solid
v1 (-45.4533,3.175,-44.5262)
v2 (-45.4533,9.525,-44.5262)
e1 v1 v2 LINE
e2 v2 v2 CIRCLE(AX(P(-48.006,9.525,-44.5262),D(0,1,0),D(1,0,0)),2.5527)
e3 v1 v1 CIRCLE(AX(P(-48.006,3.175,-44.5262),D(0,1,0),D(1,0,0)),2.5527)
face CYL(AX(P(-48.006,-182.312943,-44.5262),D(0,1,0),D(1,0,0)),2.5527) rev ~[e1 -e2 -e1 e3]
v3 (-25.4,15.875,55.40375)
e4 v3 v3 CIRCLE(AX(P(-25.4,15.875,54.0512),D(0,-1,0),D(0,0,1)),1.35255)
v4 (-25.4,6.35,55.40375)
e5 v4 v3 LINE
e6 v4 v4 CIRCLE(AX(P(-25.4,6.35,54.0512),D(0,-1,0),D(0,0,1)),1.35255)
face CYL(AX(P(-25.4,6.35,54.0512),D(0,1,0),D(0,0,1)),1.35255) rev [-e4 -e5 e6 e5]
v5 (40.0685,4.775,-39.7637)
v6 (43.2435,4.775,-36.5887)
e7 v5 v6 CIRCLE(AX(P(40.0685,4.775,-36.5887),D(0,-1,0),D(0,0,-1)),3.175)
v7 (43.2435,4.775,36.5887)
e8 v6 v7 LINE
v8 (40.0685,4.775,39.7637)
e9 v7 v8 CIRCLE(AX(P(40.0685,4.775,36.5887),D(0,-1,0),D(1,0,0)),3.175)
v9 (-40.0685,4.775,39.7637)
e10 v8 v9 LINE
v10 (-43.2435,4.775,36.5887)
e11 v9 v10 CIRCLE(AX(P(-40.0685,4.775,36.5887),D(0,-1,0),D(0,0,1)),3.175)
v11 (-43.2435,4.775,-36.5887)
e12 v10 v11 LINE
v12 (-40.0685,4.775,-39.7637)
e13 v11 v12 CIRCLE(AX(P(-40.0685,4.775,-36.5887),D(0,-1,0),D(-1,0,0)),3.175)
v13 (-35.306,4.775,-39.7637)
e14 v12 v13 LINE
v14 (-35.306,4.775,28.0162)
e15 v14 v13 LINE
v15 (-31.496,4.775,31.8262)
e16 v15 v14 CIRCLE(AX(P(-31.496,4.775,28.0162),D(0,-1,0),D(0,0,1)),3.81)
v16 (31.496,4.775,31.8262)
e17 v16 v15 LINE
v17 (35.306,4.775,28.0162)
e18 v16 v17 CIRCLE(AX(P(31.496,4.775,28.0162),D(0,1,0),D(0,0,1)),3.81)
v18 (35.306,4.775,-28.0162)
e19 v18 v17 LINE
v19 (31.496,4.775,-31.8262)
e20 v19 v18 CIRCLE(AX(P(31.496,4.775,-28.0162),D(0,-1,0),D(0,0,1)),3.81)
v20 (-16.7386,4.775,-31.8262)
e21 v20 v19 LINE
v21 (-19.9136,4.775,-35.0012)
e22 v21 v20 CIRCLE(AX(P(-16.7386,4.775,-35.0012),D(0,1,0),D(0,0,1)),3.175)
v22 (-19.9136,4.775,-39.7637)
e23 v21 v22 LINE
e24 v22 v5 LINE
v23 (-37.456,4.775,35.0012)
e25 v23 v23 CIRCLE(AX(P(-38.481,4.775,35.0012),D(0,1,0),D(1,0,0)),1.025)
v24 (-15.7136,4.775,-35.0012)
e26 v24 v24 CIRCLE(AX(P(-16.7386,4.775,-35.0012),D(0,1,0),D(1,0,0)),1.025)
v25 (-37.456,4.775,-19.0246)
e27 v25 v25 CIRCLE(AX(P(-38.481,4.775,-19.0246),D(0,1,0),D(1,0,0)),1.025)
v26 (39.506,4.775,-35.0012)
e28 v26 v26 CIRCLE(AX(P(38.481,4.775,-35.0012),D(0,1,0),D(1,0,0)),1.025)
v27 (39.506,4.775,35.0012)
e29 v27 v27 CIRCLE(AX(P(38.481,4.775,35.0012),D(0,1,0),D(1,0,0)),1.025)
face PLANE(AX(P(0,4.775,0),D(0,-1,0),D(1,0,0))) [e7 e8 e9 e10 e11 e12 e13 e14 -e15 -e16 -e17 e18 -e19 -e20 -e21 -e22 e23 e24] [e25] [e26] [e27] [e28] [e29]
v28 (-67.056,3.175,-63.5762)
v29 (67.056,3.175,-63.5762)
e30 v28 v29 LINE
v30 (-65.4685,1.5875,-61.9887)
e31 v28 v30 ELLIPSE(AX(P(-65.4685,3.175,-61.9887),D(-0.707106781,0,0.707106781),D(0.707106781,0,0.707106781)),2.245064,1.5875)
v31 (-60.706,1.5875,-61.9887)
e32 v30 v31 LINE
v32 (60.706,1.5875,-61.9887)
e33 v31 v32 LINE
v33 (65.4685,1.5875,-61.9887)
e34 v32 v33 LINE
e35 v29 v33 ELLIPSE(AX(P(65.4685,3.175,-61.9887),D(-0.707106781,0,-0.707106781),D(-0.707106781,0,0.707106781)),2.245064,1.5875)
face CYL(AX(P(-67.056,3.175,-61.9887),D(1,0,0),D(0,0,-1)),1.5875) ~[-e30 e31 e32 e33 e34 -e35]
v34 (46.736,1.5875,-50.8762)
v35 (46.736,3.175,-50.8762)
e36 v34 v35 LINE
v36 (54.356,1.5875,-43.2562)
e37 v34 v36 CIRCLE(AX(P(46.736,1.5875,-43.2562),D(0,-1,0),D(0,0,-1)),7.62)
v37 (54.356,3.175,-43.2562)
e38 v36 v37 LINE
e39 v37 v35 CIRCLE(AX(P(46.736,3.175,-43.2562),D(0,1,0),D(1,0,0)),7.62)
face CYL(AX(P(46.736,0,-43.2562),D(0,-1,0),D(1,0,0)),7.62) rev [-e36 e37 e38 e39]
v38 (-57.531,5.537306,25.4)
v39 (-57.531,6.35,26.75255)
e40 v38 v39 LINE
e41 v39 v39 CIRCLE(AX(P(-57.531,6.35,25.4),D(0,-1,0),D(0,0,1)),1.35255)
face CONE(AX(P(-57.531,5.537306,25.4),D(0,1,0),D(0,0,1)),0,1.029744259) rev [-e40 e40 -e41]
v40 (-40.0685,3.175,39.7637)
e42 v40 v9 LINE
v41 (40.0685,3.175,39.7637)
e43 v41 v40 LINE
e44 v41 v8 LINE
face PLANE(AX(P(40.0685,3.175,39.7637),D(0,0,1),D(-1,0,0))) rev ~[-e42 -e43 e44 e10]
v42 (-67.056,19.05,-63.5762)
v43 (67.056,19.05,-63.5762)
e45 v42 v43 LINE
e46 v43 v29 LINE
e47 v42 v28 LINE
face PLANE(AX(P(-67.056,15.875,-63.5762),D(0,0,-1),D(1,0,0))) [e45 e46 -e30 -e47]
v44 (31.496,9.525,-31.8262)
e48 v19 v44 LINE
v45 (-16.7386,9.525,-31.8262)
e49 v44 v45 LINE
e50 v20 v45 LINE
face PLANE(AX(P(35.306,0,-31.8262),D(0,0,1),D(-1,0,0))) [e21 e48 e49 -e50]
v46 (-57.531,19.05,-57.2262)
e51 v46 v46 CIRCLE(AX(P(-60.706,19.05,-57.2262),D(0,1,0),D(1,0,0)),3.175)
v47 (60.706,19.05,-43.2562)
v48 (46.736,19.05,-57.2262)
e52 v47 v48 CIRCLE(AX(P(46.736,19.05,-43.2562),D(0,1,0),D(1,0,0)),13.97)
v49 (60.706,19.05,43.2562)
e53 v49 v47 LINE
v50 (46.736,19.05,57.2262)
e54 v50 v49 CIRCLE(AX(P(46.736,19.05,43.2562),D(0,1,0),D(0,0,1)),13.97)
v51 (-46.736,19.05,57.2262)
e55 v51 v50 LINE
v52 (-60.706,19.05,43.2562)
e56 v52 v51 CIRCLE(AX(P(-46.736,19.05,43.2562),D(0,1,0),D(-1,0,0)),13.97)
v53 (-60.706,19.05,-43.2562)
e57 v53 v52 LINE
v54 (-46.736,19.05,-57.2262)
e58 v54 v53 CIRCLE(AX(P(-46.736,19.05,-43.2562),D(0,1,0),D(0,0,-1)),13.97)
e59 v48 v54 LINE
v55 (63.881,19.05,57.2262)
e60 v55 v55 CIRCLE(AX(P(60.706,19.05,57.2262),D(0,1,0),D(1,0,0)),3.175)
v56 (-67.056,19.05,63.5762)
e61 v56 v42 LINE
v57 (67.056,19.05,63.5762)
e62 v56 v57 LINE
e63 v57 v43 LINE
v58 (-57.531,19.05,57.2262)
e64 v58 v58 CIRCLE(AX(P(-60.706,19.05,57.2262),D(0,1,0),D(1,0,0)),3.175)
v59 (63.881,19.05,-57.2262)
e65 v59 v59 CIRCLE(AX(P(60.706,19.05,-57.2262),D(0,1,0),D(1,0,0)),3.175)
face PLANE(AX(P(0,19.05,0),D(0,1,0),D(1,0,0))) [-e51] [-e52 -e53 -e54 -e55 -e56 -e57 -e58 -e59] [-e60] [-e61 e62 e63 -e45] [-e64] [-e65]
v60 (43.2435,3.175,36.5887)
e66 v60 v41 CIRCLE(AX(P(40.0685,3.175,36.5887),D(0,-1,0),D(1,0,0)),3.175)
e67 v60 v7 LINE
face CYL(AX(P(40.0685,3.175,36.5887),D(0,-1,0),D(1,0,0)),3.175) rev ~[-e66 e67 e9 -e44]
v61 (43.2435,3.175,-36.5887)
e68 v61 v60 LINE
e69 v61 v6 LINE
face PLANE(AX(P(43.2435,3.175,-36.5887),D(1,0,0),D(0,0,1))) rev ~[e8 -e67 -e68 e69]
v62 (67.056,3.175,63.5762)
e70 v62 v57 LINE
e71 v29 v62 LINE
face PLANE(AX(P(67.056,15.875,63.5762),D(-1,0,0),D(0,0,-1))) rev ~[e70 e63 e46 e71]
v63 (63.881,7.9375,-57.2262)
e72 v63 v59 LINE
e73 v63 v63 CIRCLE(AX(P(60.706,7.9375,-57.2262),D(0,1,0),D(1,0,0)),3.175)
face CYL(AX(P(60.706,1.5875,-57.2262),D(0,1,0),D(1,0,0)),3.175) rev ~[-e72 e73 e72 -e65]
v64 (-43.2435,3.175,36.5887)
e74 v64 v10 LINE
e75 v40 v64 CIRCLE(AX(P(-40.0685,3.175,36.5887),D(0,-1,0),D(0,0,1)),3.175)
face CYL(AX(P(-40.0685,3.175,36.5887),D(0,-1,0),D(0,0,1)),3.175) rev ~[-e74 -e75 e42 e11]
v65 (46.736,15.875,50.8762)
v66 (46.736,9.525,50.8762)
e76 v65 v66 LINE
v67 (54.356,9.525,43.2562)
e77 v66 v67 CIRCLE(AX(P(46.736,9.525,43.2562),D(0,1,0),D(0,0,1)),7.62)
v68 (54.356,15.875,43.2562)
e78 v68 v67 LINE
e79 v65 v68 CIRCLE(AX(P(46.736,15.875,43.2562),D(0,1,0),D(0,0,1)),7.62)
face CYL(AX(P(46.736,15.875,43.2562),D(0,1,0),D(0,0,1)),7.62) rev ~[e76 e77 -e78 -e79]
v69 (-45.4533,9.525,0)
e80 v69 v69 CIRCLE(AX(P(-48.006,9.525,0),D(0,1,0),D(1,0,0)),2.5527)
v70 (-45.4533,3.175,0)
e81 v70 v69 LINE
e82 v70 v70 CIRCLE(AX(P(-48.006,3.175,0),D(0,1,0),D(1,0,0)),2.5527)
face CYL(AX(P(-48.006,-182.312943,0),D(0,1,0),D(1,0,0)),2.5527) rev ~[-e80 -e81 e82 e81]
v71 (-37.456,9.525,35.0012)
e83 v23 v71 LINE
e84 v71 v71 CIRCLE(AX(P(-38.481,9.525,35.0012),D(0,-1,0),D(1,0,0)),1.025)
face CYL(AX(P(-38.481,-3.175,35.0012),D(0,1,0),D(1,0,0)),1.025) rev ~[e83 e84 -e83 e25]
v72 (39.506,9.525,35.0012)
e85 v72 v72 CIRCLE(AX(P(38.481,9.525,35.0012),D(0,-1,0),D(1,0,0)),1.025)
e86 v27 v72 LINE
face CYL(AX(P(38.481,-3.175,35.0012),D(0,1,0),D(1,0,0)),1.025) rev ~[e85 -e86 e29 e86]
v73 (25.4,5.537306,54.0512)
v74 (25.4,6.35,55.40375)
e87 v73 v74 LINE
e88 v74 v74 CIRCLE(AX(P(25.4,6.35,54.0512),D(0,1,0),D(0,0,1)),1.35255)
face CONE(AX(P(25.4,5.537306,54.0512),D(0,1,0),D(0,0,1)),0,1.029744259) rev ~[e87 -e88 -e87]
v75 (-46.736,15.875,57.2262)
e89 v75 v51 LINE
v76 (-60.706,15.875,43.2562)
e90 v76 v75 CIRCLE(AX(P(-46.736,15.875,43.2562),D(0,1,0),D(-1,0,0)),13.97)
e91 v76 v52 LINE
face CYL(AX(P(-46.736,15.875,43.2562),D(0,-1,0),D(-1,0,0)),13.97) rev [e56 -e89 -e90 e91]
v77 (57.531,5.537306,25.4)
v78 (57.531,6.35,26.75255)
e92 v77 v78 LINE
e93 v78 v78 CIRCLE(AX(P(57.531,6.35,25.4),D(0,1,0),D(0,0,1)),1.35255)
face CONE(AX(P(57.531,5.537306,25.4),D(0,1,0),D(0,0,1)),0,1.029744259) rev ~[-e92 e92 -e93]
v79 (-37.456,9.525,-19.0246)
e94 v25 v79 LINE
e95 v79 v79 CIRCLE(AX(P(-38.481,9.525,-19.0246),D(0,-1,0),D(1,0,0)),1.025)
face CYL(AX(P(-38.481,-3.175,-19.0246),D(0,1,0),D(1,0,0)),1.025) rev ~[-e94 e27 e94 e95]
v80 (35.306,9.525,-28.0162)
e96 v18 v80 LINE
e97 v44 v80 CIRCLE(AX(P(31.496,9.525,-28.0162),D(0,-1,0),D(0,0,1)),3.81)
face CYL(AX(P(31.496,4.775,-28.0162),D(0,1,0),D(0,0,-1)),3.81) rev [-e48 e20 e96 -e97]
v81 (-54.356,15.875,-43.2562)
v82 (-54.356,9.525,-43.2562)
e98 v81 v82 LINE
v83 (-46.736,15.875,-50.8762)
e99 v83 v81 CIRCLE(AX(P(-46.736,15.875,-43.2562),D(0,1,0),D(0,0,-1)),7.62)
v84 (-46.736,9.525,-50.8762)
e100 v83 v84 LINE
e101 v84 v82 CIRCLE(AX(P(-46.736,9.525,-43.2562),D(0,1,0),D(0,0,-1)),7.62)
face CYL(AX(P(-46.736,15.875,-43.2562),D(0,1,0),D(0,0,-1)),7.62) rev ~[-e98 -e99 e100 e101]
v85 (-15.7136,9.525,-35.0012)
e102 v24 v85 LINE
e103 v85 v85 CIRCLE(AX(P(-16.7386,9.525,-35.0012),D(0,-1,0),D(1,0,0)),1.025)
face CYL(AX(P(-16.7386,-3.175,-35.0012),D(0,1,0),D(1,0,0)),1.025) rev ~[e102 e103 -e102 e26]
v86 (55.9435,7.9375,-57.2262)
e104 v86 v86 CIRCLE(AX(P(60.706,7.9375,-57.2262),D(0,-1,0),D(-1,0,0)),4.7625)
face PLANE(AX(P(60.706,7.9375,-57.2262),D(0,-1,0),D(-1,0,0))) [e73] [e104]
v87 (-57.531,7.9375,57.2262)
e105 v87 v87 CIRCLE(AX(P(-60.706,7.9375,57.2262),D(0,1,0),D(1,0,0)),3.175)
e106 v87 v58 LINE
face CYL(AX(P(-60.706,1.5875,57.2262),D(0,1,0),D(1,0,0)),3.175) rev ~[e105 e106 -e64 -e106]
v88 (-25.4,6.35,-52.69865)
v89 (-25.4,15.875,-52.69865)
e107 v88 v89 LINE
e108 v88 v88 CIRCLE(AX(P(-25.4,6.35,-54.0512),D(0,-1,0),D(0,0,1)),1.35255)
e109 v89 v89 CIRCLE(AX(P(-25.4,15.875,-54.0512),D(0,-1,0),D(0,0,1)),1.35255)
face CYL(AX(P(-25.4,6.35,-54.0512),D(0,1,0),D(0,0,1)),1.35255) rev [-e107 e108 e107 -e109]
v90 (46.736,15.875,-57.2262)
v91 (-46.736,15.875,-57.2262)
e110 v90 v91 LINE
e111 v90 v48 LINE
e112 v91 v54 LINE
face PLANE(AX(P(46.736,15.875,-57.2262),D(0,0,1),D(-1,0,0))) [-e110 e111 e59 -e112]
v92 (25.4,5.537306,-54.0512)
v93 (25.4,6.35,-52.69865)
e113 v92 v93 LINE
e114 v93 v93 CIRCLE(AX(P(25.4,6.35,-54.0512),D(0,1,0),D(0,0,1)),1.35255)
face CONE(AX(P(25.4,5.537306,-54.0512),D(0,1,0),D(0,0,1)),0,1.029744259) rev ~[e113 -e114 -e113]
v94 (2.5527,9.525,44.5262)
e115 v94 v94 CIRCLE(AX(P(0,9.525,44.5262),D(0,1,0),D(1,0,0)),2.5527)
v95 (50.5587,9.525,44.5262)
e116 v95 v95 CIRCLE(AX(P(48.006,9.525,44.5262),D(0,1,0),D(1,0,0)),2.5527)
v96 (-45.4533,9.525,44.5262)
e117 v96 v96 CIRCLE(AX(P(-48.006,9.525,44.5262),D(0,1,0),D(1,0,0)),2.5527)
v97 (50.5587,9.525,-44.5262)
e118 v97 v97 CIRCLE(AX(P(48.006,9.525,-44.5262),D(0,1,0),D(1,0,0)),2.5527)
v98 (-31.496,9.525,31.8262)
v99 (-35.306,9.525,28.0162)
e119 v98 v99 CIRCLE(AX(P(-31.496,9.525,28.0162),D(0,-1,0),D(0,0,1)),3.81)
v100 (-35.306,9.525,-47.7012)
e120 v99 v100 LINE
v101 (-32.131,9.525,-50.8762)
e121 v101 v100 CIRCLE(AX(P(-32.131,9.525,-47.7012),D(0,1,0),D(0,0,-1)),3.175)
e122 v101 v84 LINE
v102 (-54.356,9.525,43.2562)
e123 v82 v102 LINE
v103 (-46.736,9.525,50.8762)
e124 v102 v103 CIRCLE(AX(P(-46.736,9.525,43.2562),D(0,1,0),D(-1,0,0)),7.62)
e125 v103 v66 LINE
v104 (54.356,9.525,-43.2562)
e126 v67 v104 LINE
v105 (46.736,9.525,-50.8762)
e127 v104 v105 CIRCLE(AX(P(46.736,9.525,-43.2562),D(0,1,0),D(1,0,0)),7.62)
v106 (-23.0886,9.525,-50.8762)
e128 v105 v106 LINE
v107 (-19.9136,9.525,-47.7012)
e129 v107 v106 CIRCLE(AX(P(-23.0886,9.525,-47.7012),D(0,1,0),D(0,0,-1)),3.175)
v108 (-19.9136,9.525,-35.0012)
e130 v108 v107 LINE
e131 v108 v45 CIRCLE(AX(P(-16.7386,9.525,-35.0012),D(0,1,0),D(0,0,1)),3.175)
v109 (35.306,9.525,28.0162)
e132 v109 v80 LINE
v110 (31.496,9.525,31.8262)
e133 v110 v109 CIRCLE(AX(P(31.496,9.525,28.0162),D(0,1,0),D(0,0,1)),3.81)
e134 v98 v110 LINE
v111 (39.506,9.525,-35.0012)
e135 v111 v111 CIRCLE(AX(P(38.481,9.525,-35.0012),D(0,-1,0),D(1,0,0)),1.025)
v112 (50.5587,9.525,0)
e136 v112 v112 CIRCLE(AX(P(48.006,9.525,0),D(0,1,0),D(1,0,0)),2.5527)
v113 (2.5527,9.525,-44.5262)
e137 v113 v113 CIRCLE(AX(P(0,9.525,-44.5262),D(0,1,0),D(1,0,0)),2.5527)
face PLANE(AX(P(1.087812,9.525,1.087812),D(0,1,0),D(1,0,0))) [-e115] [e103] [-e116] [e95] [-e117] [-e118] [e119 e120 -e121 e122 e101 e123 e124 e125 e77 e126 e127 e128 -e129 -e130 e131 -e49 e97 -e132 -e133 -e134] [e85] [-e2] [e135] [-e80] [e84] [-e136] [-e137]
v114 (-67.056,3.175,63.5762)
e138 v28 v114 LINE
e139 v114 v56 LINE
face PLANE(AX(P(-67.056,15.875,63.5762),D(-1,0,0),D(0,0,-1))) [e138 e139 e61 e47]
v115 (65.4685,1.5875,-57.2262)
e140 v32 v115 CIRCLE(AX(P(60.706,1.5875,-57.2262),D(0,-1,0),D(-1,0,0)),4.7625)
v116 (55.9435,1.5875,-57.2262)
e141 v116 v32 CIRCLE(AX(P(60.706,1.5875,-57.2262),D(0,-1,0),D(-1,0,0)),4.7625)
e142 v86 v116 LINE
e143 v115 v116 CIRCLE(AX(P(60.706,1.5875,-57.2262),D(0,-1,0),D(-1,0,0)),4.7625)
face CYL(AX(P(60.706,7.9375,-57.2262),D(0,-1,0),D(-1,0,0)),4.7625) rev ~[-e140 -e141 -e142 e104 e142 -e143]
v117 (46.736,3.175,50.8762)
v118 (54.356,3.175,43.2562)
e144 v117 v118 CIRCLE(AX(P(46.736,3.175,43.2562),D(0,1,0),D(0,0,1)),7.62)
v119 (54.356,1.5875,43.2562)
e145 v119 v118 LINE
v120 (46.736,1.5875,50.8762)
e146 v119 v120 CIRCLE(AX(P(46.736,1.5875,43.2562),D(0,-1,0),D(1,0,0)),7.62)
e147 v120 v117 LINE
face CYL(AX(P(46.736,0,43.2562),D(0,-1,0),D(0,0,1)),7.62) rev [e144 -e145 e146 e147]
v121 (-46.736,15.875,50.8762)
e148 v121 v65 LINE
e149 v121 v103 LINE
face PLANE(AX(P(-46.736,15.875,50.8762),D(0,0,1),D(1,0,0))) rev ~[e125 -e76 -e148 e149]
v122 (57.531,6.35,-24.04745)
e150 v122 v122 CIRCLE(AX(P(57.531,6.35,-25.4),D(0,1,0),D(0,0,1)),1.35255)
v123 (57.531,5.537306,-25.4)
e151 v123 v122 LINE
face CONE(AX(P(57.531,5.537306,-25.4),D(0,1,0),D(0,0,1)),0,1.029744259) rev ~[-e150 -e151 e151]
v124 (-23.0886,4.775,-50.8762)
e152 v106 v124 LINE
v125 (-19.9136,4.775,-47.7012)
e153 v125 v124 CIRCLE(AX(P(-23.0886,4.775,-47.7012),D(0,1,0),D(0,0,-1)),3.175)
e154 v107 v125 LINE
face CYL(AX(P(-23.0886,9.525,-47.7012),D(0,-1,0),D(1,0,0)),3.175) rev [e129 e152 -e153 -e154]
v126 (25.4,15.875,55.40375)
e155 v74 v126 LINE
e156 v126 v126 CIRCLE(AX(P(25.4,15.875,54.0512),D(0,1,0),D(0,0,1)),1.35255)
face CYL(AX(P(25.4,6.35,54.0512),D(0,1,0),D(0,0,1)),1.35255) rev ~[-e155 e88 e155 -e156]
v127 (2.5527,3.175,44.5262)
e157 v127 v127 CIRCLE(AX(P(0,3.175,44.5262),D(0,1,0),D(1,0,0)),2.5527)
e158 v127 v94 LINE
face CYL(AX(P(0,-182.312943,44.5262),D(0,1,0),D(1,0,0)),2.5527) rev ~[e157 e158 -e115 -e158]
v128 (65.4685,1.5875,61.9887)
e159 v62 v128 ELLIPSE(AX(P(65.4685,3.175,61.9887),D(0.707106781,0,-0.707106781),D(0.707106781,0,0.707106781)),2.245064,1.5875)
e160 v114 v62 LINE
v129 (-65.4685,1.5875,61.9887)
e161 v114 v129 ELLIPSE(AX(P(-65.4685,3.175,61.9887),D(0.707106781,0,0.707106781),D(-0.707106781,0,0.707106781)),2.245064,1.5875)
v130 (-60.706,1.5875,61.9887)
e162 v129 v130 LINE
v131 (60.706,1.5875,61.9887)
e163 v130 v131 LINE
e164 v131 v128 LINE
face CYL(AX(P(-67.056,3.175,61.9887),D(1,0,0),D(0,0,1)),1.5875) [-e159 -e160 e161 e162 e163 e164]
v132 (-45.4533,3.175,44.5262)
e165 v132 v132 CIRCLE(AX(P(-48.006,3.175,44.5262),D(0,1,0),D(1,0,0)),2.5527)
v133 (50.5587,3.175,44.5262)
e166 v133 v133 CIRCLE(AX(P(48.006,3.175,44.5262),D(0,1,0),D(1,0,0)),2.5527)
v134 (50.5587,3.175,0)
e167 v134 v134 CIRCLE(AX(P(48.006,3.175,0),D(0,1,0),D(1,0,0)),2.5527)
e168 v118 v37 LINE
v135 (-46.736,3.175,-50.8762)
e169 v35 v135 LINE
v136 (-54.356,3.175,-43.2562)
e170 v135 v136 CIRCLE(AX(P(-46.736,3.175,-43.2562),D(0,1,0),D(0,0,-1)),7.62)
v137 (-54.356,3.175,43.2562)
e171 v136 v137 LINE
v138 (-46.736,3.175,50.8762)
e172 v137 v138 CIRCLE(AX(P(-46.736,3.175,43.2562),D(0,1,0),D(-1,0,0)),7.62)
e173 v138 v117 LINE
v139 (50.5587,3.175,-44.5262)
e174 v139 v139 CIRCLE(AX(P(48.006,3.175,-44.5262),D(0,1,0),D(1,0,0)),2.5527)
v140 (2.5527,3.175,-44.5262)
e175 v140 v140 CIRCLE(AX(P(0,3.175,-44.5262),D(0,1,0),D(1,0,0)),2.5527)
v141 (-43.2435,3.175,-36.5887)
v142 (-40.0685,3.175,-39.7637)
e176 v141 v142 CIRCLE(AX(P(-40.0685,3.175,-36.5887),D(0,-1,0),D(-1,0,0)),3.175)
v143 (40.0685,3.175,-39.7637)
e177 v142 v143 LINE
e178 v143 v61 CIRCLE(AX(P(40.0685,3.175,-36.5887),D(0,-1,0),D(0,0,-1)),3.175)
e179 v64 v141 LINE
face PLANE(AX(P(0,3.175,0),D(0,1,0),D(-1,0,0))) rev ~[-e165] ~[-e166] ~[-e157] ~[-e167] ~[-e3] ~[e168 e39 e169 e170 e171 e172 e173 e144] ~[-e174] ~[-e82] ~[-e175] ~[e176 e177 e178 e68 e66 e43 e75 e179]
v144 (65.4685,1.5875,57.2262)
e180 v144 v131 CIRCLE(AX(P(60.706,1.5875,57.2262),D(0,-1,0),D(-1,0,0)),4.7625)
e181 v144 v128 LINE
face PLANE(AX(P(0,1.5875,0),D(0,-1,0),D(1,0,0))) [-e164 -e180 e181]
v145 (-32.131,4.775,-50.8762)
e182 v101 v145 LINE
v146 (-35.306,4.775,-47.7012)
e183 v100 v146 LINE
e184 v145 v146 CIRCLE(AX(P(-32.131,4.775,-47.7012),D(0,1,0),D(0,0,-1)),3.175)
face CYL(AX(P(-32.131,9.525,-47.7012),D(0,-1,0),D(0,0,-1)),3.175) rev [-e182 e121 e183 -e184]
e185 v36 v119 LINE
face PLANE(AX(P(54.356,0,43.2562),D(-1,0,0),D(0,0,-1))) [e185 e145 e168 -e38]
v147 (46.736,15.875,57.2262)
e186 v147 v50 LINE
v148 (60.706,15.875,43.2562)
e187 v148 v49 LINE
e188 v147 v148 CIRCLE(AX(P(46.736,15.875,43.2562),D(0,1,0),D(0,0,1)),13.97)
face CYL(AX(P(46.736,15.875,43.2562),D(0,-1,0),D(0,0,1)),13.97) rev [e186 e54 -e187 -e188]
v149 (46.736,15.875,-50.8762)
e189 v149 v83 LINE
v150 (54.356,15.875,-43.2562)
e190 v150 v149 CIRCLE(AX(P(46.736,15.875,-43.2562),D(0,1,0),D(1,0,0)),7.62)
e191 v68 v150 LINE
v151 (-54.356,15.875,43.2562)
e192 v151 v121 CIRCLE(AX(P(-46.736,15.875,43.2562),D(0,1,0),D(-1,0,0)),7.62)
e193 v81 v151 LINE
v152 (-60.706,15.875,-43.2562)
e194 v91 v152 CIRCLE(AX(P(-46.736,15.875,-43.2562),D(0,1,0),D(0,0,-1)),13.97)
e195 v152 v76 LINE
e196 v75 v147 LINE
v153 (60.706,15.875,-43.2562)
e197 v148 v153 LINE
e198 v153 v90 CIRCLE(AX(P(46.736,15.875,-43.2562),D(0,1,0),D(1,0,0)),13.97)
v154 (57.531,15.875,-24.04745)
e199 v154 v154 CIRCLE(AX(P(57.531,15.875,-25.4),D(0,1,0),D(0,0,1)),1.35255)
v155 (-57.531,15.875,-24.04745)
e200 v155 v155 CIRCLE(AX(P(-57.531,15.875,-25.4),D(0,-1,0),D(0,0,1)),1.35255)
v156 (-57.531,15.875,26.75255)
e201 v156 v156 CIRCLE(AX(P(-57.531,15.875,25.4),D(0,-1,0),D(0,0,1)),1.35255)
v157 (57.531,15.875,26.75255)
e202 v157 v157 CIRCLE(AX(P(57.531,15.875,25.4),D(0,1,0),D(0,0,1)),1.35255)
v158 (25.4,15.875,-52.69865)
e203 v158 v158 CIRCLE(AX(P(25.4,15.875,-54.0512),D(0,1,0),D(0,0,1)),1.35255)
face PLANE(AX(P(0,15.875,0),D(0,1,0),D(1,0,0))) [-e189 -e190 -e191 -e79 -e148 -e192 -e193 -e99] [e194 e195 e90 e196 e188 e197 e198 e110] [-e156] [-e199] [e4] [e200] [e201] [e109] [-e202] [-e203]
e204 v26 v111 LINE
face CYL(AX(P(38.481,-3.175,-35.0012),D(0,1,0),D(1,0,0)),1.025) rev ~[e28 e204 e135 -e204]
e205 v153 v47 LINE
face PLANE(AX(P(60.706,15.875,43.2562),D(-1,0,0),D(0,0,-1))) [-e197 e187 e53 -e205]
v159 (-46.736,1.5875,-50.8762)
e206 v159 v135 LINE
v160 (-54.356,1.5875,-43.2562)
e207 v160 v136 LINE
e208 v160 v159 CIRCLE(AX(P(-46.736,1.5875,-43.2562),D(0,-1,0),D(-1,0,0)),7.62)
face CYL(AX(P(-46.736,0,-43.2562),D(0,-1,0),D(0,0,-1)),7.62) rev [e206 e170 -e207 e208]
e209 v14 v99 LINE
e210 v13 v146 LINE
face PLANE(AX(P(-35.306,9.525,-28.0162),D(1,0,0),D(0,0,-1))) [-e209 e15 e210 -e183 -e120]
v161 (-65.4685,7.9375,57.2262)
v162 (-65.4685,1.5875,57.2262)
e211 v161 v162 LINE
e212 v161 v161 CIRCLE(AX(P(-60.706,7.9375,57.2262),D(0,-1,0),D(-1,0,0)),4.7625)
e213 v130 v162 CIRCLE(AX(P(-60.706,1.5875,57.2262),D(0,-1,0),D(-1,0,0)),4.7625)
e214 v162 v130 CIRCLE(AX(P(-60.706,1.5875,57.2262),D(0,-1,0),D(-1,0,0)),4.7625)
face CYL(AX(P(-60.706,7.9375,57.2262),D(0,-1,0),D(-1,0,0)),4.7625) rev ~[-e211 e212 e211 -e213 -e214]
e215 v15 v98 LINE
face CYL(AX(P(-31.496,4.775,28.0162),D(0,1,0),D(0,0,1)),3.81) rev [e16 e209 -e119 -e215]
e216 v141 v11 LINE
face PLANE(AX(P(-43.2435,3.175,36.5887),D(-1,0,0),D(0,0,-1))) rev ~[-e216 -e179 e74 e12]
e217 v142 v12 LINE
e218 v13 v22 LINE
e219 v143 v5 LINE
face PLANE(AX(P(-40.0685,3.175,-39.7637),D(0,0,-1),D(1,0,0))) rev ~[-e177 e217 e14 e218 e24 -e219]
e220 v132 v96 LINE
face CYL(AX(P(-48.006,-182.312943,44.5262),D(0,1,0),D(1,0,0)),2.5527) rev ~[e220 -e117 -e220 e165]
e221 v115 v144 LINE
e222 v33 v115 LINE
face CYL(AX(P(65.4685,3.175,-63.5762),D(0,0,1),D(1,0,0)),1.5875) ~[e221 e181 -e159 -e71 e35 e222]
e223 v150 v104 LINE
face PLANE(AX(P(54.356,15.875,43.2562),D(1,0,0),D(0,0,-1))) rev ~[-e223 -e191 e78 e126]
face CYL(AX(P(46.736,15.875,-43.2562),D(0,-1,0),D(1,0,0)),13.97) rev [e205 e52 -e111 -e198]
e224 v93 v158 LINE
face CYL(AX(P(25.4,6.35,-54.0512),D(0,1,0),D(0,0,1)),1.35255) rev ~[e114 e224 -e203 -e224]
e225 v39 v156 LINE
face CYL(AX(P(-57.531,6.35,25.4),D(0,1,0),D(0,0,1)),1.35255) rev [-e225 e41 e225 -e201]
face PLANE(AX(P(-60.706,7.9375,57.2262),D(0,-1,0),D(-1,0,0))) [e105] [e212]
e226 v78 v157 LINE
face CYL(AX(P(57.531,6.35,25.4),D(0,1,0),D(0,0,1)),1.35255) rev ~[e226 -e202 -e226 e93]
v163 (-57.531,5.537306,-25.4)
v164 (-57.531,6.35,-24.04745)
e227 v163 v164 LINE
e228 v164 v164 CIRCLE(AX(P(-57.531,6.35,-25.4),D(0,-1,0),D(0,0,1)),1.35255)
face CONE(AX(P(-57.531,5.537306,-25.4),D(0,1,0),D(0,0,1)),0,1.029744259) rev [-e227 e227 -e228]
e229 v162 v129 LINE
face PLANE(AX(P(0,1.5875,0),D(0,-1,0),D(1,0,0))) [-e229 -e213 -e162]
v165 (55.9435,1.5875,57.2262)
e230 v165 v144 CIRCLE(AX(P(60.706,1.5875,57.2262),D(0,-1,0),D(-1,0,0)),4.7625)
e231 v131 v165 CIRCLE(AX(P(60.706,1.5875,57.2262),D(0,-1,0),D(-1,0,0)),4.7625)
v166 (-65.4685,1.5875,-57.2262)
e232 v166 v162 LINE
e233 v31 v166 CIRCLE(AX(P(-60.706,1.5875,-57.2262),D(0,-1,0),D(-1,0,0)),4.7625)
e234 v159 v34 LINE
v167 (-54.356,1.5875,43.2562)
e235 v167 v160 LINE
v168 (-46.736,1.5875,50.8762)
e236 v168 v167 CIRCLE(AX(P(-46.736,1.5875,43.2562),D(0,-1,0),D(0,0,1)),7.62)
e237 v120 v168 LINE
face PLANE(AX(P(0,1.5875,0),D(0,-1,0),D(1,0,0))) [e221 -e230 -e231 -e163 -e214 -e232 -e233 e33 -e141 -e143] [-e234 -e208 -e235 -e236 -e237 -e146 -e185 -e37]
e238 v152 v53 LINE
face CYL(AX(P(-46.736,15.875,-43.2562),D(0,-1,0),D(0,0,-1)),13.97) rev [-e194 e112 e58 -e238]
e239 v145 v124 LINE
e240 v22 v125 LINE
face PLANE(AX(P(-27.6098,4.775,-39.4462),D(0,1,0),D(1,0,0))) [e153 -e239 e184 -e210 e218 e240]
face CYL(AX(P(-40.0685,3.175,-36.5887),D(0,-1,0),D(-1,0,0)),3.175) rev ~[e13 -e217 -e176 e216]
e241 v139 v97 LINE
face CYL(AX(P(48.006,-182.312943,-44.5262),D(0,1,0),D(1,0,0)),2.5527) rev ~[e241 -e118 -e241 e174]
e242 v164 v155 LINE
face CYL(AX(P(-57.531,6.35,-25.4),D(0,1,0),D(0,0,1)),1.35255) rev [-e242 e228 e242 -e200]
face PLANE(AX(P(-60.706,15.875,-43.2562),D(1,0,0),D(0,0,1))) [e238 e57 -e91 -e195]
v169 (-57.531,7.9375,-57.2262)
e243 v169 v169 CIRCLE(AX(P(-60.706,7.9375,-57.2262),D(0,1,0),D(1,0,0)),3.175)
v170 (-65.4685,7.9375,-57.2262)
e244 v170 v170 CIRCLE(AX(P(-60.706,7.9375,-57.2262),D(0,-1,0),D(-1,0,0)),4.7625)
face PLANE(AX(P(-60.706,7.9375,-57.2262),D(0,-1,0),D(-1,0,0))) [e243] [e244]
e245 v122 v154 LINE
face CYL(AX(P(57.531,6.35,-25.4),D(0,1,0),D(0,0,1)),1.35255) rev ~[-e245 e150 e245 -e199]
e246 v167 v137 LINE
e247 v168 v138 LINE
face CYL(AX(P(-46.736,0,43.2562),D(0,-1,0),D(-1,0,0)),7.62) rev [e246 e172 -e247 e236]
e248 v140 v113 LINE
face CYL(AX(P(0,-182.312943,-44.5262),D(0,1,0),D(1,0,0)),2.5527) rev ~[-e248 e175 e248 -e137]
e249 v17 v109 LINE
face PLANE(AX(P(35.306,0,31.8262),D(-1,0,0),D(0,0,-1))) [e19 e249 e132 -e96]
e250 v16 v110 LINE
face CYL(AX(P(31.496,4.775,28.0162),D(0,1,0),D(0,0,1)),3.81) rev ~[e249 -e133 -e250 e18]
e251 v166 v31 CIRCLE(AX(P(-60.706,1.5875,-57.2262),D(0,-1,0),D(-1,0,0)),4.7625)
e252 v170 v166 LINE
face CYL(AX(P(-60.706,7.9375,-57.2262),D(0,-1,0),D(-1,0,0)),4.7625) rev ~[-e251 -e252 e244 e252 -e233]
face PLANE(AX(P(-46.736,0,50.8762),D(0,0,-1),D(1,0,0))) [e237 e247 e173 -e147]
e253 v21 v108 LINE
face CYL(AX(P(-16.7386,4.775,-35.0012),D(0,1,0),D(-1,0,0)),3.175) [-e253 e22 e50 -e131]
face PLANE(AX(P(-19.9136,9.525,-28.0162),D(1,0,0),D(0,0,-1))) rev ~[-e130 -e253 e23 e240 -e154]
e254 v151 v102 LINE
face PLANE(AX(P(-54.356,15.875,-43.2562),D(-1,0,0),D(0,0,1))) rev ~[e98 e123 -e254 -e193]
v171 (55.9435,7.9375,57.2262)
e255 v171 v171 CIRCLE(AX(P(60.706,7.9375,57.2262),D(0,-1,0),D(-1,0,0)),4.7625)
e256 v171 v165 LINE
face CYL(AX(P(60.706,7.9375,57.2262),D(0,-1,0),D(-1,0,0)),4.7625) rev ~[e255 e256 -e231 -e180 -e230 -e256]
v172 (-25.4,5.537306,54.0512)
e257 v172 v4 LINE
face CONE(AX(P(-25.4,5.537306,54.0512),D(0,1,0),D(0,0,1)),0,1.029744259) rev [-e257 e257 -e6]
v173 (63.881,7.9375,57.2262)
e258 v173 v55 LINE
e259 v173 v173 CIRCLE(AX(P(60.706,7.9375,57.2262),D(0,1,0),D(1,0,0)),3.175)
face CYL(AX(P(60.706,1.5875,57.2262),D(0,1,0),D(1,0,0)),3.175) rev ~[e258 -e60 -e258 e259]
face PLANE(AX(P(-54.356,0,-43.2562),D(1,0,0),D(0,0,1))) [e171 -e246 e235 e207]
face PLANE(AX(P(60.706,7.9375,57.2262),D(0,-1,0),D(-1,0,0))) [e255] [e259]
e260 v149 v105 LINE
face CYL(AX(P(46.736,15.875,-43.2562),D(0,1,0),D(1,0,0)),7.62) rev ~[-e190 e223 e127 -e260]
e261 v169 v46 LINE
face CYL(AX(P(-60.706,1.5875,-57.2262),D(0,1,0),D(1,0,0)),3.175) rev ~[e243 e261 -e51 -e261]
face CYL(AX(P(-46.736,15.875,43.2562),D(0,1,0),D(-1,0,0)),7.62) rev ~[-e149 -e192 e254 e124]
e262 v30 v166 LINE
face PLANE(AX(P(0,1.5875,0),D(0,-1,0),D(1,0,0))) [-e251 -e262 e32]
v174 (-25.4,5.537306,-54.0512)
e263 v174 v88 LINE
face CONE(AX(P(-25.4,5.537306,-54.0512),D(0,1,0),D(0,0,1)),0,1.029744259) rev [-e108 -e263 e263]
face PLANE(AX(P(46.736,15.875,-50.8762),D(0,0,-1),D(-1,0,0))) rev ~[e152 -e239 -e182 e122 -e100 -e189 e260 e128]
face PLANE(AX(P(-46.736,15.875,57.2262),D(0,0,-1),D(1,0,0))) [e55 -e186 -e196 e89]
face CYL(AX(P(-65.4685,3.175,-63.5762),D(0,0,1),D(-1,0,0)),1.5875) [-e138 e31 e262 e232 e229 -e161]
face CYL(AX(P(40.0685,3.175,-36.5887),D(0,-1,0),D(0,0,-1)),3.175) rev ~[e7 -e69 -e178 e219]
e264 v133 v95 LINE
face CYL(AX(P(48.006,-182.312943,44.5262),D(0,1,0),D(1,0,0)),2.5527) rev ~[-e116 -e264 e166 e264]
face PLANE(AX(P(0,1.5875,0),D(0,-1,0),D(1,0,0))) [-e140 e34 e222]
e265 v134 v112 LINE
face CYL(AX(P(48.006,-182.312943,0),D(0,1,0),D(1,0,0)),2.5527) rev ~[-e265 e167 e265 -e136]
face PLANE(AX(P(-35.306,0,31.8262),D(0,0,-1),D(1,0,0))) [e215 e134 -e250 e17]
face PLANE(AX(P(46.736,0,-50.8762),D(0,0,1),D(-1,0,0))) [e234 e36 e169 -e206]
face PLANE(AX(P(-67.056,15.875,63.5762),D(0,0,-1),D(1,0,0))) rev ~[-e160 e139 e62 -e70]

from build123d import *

# Parameters (mm, degrees)
SKETCH2_W                                            = 134.112
SKETCH2_H                                            = 127.1524
SKETCH2_W_2                                          = 83.312
SKETCH2_H_2                                          = 76.3524
SKETCH2_W_3                                          = 21.7424
SKETCH2_H_3                                          = 15.9766
BOSS_EXTRUDE1_DEPTH                                  = 15.875
BOSS_EXTRUDE2_DEPTH                                  = 9.525
CUT_EXTRUDE2_DEPTH                                   = 3.175
M2_5X0_45_TAPPED_HOLE1_D                             = 2.05
M2_5X0_45_TAPPED_HOLE1_DEPTH                         = 6.35
M2_5X0_45_TAPPED_HOLE1_TIP                           = 0.615882135
F_10_CLEARANCE_HOLE1_D                               = 5.1054
CUT_EXTRUDE3_DEPTH                                   = 6.35
CUT_EXTRUDE4_DEPTH                                   = 1.6
SKETCH12_W                                           = 70.612
SKETCH12_H                                           = 63.6524
CUT_EXTRUDE5_DEPTH                                   = 12.1
FILLET1_R                                            = 3.81
SKETCH13_W                                           = 134.112
SKETCH13_H                                           = 127.1524
CUT_EXTRUDE6_DEPTH                                   = 1.5875
FILLET2_R                                            = 1.5875
SKETCH14_W                                           = 15.3924
SKETCH14_H                                           = 22.86
CUT_EXTRUDE7_DEPTH                                   = 4.75
FILLET3_R                                            = 3.175
SKETCH15_W                                           = 134.112
SKETCH15_H                                           = 127.1524
BOSS_EXTRUDE3_DEPTH                                  = 3.175
F_6_32_TAPPED_HOLE1_AT_2_COUNT                       = 2
F_6_32_TAPPED_HOLE1_AT_2_PITCH                       = 108.1024
F_6_32_TAPPED_HOLE1_AT_3_COUNT                       = 2
F_6_32_TAPPED_HOLE1_AT_3_PITCH                       = 85.702359025
F_6_32_TAPPED_HOLE1_AT_4_COUNT                       = 2
F_6_32_TAPPED_HOLE1_AT_4_PITCH                       = 43.049882955
CBORE_FOR_1_4_BINDING_HEAD_MACHINE_SCREW_D           = 6.35
CBORE_FOR_1_4_BINDING_HEAD_MACHINE_SCREW_DEPTH       = 17.4625
CBORE_FOR_1_4_BINDING_HEAD_MACHINE_SCREW_CBORE_D     = 9.525
CBORE_FOR_1_4_BINDING_HEAD_MACHINE_SCREW_CBORE_DEPTH = 6.35


with BuildPart() as part:
    # Sketch2 → Boss-Extrude1 (new body)
    with BuildSketch(Plane(origin=(0, 0, 0), x_dir=(1, 0, 0), z_dir=(0, 1, 0))):
        Rectangle(SKETCH2_W, SKETCH2_H)
        Rectangle(SKETCH2_W_2, SKETCH2_H_2, mode=Mode.SUBTRACT)
        with Locations((-30.7848, 30.1879)):
            Rectangle(SKETCH2_W_3, SKETCH2_H_3)
    extrude(amount=BOSS_EXTRUDE1_DEPTH)

    # Sketch4 → Boss-Extrude2 (add)
    with BuildSketch(Plane(origin=(0, 0, 0), x_dir=(1, 0, 0), z_dir=(0, 1, 0))):
        Polygon((41.656, -38.1762), (41.656, 38.1762), (-19.9136, 38.1762), (-19.9136, 22.1996), (-41.656, 22.1996), (-41.656, -38.1762), align=None)
        Polygon((35.306, 31.8262), (-13.5636, 31.8262), (-13.5636, 15.8496), (-35.306, 15.8496), (-35.306, -31.8262), (35.306, -31.8262), align=None, mode=Mode.SUBTRACT)
    extrude(amount=BOSS_EXTRUDE2_DEPTH)

    # Sketch5 → Cut-Extrude2 (cut)
    with BuildSketch(Plane.XZ):
        with BuildLine():
            Line((46.736, -50.8762), (-46.736, -50.8762))
            ThreePointArc((-46.736, -50.8762), (-52.124153673, -48.644353673), (-54.356, -43.2562))
            Line((-54.356, -43.2562), (-54.356, 43.2562))
            ThreePointArc((-54.356, 43.2562), (-52.124153673, 48.644353673), (-46.736, 50.8762))
            Line((-46.736, 50.8762), (46.736, 50.8762))
            ThreePointArc((46.736, 50.8762), (52.124153673, 48.644353673), (54.356, 43.2562))
            Line((54.356, 43.2562), (54.356, -43.2562))
            ThreePointArc((54.356, -43.2562), (52.124153673, -48.644353673), (46.736, -50.8762))
        make_face()
    extrude(amount=-CUT_EXTRUDE2_DEPTH, mode=Mode.SUBTRACT)

    # M2.5x0.45 Tapped Hole1
    with Locations(Plane(origin=(0, 3.175, 0), x_dir=(-1, 0, 0), z_dir=(0, -1, 0))):
        with Locations((38.481, -35.0012), (-38.481, -35.0012), (38.481, 19.0246), (16.7386, 35.0012), (-38.481, 35.0012)):
            Hole(M2_5X0_45_TAPPED_HOLE1_D / 2, depth=M2_5X0_45_TAPPED_HOLE1_DEPTH)
            with Locations((0, 0, -(M2_5X0_45_TAPPED_HOLE1_DEPTH + M2_5X0_45_TAPPED_HOLE1_TIP / 2))):  # 118° drill point
                Cone(0, M2_5X0_45_TAPPED_HOLE1_D / 2, M2_5X0_45_TAPPED_HOLE1_TIP, mode=Mode.SUBTRACT)

    # 10 Clearance Hole1 (through all)
    with Locations(Plane(origin=(0, 3.175, 0), x_dir=(-1, 0, 0), z_dir=(0, -1, 0))):
        with Locations((48.006, -44.5262), (0, -44.5262), (-48.006, -44.5262), (-48.006, 0), (-48.006, 44.5262), (0, 44.5262), (48.006, 44.5262), (48.006, 0)):
            Hole(F_10_CLEARANCE_HOLE1_D / 2)

    # Sketch10 → Cut-Extrude3 (cut)
    with BuildSketch(Plane(origin=(0, 15.875, 0), x_dir=(1, 0, 0), z_dir=(0, 1, 0))):
        with BuildLine():
            Line((54.356, -43.2562), (54.356, 43.2562))
            ThreePointArc((54.356, 43.2562), (52.124153673, 48.644353673), (46.736, 50.8762))
            Line((46.736, 50.8762), (-46.736, 50.8762))
            ThreePointArc((-46.736, 50.8762), (-52.124153673, 48.644353673), (-54.356, 43.2562))
            Line((-54.356, 43.2562), (-54.356, -43.2562))
            ThreePointArc((-54.356, -43.2562), (-52.124153673, -48.644353673), (-46.736, -50.8762))
            Line((-46.736, -50.8762), (46.736, -50.8762))
            ThreePointArc((46.736, -50.8762), (52.124153673, -48.644353673), (54.356, -43.2562))
        make_face()
    extrude(amount=-CUT_EXTRUDE3_DEPTH, mode=Mode.SUBTRACT)

    # Sketch11 → Cut-Extrude4 (cut)
    with BuildSketch(Plane.XZ.offset(-3.175)):
        with BuildLine():
            Line((40.0685, 39.7637), (-40.0685, 39.7637))
            ThreePointArc((-40.0685, 39.7637), (-42.31356403, 38.83376403), (-43.2435, 36.5887))
            Line((-43.2435, 36.5887), (-43.2435, -36.5887))
            ThreePointArc((-43.2435, -36.5887), (-42.31356403, -38.83376403), (-40.0685, -39.7637))
            Line((-40.0685, -39.7637), (40.0685, -39.7637))
            ThreePointArc((40.0685, -39.7637), (42.31356403, -38.83376403), (43.2435, -36.5887))
            Line((43.2435, -36.5887), (43.2435, 36.5887))
            ThreePointArc((43.2435, 36.5887), (42.31356403, 38.83376403), (40.0685, 39.7637))
        make_face()
    extrude(amount=-CUT_EXTRUDE4_DEPTH, mode=Mode.SUBTRACT)

    # Sketch12 → Cut-Extrude5 (cut, through all)
    with BuildSketch(Plane.XZ.offset(-4.775)):
        Rectangle(SKETCH12_W, SKETCH12_H)
    extrude(amount=-CUT_EXTRUDE5_DEPTH, mode=Mode.SUBTRACT)

    # Fillet1
    fillet1_edges = [part.edges().sort_by_distance(p)[0] for p in [
        (-35.306, 7.15, -31.8262),
        (35.306, 7.15, -31.8262),
        (-35.306, 7.15, 31.8262),
        (35.306, 7.15, 31.8262),
    ]]
    fillet(fillet1_edges, radius=FILLET1_R)

    # Sketch13 → Cut-Extrude6 (cut)
    with BuildSketch(Plane.XZ):
        Rectangle(SKETCH13_W, SKETCH13_H)
        with BuildLine():
            Line((54.356, -43.2562), (54.356, 43.2562))
            ThreePointArc((54.356, 43.2562), (52.124153673, 48.644353673), (46.736, 50.8762))
            Line((46.736, 50.8762), (-46.736, 50.8762))
            ThreePointArc((-46.736, 50.8762), (-52.124153673, 48.644353673), (-54.356, 43.2562))
            Line((-54.356, 43.2562), (-54.356, -43.2562))
            ThreePointArc((-54.356, -43.2562), (-52.124153673, -48.644353673), (-46.736, -50.8762))
            Line((-46.736, -50.8762), (46.736, -50.8762))
            ThreePointArc((46.736, -50.8762), (52.124153673, -48.644353673), (54.356, -43.2562))
        make_face(mode=Mode.SUBTRACT)
    extrude(amount=-CUT_EXTRUDE6_DEPTH, mode=Mode.SUBTRACT)

    # Fillet2
    fillet2_edges = [part.edges().sort_by_distance(p)[0] for p in [
        (67.056, 1.5875, 0),
        (0, 1.5875, -63.5762),
        (-67.056, 1.5875, 0),
        (0, 1.5875, 63.5762),
    ]]
    fillet(fillet2_edges, radius=FILLET2_R)

    # Sketch14 → Cut-Extrude7 (cut)
    with BuildSketch(Plane(origin=(0, 9.525, 0), x_dir=(1, 0, 0), z_dir=(0, 1, 0))):
        with Locations((-27.6098, 39.4462)):
            Rectangle(SKETCH14_W, SKETCH14_H)
    extrude(amount=-CUT_EXTRUDE7_DEPTH, mode=Mode.SUBTRACT)

    # Fillet3
    fillet3_edges = [part.edges().sort_by_distance(p)[0] for p in [
        (-19.9136, 7.15, -31.8262),
        (-19.9136, 7.15, -50.8762),
        (-35.306, 7.15, -50.8762),
    ]]
    fillet(fillet3_edges, radius=FILLET3_R)

    # Sketch15 → Boss-Extrude3 (add)
    with BuildSketch(Plane(origin=(0, 15.875, 0), x_dir=(1, 0, 0), z_dir=(0, 1, 0))):
        Rectangle(SKETCH15_W, SKETCH15_H)
        with BuildLine():
            ThreePointArc((46.736, -57.2262), (56.614281733, -53.134481733), (60.706, -43.2562))
            Line((60.706, -43.2562), (60.706, 43.2562))
            ThreePointArc((60.706, 43.2562), (56.614281733, 53.134481733), (46.736, 57.2262))
            Line((46.736, 57.2262), (-46.736, 57.2262))
            ThreePointArc((-46.736, 57.2262), (-56.614281733, 53.134481733), (-60.706, 43.2562))
            Line((-60.706, 43.2562), (-60.706, -43.2562))
            ThreePointArc((-60.706, -43.2562), (-56.614281733, -53.134481733), (-46.736, -57.2262))
            Line((-46.736, -57.2262), (46.736, -57.2262))
        make_face(mode=Mode.SUBTRACT)
    extrude(amount=BOSS_EXTRUDE3_DEPTH)

    # Sketch18 → 6-32 Tapped Hole1 (revolve, cut)
    with BuildSketch(Plane(origin=(-25.4, 15.875, 54.0512), x_dir=(0, 0, 1), z_dir=(1, 0, 0))):
        Polygon((0, 0), (0, 10.33769403), (1.35255, 9.525), (1.35255, 0), align=None)
    f_6_32_tapped_hole1 = revolve(axis=Axis((-25.4, 22.225, 54.0512), (0, -1, 0)), mode=Mode.SUBTRACT)

    # 6-32 Tapped Hole1 at 2: 6-32 Tapped Hole1 ×2
    with Locations(*[(0, 0, -i * F_6_32_TAPPED_HOLE1_AT_2_PITCH) for i in range(1, F_6_32_TAPPED_HOLE1_AT_2_COUNT)]):
        add(f_6_32_tapped_hole1, mode=Mode.SUBTRACT)

    # 6-32 Tapped Hole1 at 3: 6-32 Tapped Hole1 ×2
    with Locations(*[Vector(-0.374913834, 0, -0.927059662) * (i * F_6_32_TAPPED_HOLE1_AT_3_PITCH) for i in range(1, F_6_32_TAPPED_HOLE1_AT_3_COUNT)]):
        add(f_6_32_tapped_hole1, mode=Mode.SUBTRACT)

    # 6-32 Tapped Hole1 at 4: 6-32 Tapped Hole1 ×2
    with Locations(*[Vector(-0.746366721, 0, -0.665534911) * (i * F_6_32_TAPPED_HOLE1_AT_4_PITCH) for i in range(1, F_6_32_TAPPED_HOLE1_AT_4_COUNT)]):
        add(f_6_32_tapped_hole1, mode=Mode.SUBTRACT)

    # Mirror1: 6-32 Tapped Hole1 across plane
    add(f_6_32_tapped_hole1.mirror(Plane(origin=(0, 0, 0), x_dir=(0, 0, 1), z_dir=(1, 0, 0))), mode=Mode.SUBTRACT)

    # Mirror1 copy 1 sketch → Mirror1 copy 1 (revolve, cut)
    with BuildSketch(Plane(origin=(25.4, 15.875, -54.0512), x_dir=(0, 0, 1), z_dir=(-1, 0, 0))):
        Polygon((0, 0), (0, -10.33769403), (1.35255, -9.525), (1.35255, 0), align=None)
    revolve(axis=Axis((25.4, 22.225, -54.0512), (0, 1, 0)), mode=Mode.SUBTRACT)

    # Mirror1 copy 2 sketch → Mirror1 copy 2 (revolve, cut)
    with BuildSketch(Plane(origin=(57.531, 15.875, -25.4), x_dir=(0, 0, 1), z_dir=(-1, 0, 0))):
        Polygon((0, 0), (0, -10.33769403), (1.35255, -9.525), (1.35255, 0), align=None)
    revolve(axis=Axis((57.531, 22.225, -25.4), (0, 1, 0)), mode=Mode.SUBTRACT)

    # Mirror1 copy 3 sketch → Mirror1 copy 3 (revolve, cut)
    with BuildSketch(Plane(origin=(57.531, 15.875, 25.4), x_dir=(0, 0, 1), z_dir=(-1, 0, 0))):
        Polygon((0, 0), (0, -10.33769403), (1.35255, -9.525), (1.35255, 0), align=None)
    revolve(axis=Axis((57.531, 22.225, 25.4), (0, 1, 0)), mode=Mode.SUBTRACT)

    # CBORE for 1_4 Binding Head Machine Screw
    with Locations(Plane(origin=(0, 1.5875, 0), x_dir=(-1, 0, 0), z_dir=(0, -1, 0))):
        with Locations((60.706, -57.2262), (-60.706, -57.2262), (-60.706, 57.2262), (60.706, 57.2262)):
            CounterBoreHole(CBORE_FOR_1_4_BINDING_HEAD_MACHINE_SCREW_D / 2, CBORE_FOR_1_4_BINDING_HEAD_MACHINE_SCREW_CBORE_D / 2, CBORE_FOR_1_4_BINDING_HEAD_MACHINE_SCREW_CBORE_DEPTH, depth=CBORE_FOR_1_4_BINDING_HEAD_MACHINE_SCREW_DEPTH)


solid = part.part
